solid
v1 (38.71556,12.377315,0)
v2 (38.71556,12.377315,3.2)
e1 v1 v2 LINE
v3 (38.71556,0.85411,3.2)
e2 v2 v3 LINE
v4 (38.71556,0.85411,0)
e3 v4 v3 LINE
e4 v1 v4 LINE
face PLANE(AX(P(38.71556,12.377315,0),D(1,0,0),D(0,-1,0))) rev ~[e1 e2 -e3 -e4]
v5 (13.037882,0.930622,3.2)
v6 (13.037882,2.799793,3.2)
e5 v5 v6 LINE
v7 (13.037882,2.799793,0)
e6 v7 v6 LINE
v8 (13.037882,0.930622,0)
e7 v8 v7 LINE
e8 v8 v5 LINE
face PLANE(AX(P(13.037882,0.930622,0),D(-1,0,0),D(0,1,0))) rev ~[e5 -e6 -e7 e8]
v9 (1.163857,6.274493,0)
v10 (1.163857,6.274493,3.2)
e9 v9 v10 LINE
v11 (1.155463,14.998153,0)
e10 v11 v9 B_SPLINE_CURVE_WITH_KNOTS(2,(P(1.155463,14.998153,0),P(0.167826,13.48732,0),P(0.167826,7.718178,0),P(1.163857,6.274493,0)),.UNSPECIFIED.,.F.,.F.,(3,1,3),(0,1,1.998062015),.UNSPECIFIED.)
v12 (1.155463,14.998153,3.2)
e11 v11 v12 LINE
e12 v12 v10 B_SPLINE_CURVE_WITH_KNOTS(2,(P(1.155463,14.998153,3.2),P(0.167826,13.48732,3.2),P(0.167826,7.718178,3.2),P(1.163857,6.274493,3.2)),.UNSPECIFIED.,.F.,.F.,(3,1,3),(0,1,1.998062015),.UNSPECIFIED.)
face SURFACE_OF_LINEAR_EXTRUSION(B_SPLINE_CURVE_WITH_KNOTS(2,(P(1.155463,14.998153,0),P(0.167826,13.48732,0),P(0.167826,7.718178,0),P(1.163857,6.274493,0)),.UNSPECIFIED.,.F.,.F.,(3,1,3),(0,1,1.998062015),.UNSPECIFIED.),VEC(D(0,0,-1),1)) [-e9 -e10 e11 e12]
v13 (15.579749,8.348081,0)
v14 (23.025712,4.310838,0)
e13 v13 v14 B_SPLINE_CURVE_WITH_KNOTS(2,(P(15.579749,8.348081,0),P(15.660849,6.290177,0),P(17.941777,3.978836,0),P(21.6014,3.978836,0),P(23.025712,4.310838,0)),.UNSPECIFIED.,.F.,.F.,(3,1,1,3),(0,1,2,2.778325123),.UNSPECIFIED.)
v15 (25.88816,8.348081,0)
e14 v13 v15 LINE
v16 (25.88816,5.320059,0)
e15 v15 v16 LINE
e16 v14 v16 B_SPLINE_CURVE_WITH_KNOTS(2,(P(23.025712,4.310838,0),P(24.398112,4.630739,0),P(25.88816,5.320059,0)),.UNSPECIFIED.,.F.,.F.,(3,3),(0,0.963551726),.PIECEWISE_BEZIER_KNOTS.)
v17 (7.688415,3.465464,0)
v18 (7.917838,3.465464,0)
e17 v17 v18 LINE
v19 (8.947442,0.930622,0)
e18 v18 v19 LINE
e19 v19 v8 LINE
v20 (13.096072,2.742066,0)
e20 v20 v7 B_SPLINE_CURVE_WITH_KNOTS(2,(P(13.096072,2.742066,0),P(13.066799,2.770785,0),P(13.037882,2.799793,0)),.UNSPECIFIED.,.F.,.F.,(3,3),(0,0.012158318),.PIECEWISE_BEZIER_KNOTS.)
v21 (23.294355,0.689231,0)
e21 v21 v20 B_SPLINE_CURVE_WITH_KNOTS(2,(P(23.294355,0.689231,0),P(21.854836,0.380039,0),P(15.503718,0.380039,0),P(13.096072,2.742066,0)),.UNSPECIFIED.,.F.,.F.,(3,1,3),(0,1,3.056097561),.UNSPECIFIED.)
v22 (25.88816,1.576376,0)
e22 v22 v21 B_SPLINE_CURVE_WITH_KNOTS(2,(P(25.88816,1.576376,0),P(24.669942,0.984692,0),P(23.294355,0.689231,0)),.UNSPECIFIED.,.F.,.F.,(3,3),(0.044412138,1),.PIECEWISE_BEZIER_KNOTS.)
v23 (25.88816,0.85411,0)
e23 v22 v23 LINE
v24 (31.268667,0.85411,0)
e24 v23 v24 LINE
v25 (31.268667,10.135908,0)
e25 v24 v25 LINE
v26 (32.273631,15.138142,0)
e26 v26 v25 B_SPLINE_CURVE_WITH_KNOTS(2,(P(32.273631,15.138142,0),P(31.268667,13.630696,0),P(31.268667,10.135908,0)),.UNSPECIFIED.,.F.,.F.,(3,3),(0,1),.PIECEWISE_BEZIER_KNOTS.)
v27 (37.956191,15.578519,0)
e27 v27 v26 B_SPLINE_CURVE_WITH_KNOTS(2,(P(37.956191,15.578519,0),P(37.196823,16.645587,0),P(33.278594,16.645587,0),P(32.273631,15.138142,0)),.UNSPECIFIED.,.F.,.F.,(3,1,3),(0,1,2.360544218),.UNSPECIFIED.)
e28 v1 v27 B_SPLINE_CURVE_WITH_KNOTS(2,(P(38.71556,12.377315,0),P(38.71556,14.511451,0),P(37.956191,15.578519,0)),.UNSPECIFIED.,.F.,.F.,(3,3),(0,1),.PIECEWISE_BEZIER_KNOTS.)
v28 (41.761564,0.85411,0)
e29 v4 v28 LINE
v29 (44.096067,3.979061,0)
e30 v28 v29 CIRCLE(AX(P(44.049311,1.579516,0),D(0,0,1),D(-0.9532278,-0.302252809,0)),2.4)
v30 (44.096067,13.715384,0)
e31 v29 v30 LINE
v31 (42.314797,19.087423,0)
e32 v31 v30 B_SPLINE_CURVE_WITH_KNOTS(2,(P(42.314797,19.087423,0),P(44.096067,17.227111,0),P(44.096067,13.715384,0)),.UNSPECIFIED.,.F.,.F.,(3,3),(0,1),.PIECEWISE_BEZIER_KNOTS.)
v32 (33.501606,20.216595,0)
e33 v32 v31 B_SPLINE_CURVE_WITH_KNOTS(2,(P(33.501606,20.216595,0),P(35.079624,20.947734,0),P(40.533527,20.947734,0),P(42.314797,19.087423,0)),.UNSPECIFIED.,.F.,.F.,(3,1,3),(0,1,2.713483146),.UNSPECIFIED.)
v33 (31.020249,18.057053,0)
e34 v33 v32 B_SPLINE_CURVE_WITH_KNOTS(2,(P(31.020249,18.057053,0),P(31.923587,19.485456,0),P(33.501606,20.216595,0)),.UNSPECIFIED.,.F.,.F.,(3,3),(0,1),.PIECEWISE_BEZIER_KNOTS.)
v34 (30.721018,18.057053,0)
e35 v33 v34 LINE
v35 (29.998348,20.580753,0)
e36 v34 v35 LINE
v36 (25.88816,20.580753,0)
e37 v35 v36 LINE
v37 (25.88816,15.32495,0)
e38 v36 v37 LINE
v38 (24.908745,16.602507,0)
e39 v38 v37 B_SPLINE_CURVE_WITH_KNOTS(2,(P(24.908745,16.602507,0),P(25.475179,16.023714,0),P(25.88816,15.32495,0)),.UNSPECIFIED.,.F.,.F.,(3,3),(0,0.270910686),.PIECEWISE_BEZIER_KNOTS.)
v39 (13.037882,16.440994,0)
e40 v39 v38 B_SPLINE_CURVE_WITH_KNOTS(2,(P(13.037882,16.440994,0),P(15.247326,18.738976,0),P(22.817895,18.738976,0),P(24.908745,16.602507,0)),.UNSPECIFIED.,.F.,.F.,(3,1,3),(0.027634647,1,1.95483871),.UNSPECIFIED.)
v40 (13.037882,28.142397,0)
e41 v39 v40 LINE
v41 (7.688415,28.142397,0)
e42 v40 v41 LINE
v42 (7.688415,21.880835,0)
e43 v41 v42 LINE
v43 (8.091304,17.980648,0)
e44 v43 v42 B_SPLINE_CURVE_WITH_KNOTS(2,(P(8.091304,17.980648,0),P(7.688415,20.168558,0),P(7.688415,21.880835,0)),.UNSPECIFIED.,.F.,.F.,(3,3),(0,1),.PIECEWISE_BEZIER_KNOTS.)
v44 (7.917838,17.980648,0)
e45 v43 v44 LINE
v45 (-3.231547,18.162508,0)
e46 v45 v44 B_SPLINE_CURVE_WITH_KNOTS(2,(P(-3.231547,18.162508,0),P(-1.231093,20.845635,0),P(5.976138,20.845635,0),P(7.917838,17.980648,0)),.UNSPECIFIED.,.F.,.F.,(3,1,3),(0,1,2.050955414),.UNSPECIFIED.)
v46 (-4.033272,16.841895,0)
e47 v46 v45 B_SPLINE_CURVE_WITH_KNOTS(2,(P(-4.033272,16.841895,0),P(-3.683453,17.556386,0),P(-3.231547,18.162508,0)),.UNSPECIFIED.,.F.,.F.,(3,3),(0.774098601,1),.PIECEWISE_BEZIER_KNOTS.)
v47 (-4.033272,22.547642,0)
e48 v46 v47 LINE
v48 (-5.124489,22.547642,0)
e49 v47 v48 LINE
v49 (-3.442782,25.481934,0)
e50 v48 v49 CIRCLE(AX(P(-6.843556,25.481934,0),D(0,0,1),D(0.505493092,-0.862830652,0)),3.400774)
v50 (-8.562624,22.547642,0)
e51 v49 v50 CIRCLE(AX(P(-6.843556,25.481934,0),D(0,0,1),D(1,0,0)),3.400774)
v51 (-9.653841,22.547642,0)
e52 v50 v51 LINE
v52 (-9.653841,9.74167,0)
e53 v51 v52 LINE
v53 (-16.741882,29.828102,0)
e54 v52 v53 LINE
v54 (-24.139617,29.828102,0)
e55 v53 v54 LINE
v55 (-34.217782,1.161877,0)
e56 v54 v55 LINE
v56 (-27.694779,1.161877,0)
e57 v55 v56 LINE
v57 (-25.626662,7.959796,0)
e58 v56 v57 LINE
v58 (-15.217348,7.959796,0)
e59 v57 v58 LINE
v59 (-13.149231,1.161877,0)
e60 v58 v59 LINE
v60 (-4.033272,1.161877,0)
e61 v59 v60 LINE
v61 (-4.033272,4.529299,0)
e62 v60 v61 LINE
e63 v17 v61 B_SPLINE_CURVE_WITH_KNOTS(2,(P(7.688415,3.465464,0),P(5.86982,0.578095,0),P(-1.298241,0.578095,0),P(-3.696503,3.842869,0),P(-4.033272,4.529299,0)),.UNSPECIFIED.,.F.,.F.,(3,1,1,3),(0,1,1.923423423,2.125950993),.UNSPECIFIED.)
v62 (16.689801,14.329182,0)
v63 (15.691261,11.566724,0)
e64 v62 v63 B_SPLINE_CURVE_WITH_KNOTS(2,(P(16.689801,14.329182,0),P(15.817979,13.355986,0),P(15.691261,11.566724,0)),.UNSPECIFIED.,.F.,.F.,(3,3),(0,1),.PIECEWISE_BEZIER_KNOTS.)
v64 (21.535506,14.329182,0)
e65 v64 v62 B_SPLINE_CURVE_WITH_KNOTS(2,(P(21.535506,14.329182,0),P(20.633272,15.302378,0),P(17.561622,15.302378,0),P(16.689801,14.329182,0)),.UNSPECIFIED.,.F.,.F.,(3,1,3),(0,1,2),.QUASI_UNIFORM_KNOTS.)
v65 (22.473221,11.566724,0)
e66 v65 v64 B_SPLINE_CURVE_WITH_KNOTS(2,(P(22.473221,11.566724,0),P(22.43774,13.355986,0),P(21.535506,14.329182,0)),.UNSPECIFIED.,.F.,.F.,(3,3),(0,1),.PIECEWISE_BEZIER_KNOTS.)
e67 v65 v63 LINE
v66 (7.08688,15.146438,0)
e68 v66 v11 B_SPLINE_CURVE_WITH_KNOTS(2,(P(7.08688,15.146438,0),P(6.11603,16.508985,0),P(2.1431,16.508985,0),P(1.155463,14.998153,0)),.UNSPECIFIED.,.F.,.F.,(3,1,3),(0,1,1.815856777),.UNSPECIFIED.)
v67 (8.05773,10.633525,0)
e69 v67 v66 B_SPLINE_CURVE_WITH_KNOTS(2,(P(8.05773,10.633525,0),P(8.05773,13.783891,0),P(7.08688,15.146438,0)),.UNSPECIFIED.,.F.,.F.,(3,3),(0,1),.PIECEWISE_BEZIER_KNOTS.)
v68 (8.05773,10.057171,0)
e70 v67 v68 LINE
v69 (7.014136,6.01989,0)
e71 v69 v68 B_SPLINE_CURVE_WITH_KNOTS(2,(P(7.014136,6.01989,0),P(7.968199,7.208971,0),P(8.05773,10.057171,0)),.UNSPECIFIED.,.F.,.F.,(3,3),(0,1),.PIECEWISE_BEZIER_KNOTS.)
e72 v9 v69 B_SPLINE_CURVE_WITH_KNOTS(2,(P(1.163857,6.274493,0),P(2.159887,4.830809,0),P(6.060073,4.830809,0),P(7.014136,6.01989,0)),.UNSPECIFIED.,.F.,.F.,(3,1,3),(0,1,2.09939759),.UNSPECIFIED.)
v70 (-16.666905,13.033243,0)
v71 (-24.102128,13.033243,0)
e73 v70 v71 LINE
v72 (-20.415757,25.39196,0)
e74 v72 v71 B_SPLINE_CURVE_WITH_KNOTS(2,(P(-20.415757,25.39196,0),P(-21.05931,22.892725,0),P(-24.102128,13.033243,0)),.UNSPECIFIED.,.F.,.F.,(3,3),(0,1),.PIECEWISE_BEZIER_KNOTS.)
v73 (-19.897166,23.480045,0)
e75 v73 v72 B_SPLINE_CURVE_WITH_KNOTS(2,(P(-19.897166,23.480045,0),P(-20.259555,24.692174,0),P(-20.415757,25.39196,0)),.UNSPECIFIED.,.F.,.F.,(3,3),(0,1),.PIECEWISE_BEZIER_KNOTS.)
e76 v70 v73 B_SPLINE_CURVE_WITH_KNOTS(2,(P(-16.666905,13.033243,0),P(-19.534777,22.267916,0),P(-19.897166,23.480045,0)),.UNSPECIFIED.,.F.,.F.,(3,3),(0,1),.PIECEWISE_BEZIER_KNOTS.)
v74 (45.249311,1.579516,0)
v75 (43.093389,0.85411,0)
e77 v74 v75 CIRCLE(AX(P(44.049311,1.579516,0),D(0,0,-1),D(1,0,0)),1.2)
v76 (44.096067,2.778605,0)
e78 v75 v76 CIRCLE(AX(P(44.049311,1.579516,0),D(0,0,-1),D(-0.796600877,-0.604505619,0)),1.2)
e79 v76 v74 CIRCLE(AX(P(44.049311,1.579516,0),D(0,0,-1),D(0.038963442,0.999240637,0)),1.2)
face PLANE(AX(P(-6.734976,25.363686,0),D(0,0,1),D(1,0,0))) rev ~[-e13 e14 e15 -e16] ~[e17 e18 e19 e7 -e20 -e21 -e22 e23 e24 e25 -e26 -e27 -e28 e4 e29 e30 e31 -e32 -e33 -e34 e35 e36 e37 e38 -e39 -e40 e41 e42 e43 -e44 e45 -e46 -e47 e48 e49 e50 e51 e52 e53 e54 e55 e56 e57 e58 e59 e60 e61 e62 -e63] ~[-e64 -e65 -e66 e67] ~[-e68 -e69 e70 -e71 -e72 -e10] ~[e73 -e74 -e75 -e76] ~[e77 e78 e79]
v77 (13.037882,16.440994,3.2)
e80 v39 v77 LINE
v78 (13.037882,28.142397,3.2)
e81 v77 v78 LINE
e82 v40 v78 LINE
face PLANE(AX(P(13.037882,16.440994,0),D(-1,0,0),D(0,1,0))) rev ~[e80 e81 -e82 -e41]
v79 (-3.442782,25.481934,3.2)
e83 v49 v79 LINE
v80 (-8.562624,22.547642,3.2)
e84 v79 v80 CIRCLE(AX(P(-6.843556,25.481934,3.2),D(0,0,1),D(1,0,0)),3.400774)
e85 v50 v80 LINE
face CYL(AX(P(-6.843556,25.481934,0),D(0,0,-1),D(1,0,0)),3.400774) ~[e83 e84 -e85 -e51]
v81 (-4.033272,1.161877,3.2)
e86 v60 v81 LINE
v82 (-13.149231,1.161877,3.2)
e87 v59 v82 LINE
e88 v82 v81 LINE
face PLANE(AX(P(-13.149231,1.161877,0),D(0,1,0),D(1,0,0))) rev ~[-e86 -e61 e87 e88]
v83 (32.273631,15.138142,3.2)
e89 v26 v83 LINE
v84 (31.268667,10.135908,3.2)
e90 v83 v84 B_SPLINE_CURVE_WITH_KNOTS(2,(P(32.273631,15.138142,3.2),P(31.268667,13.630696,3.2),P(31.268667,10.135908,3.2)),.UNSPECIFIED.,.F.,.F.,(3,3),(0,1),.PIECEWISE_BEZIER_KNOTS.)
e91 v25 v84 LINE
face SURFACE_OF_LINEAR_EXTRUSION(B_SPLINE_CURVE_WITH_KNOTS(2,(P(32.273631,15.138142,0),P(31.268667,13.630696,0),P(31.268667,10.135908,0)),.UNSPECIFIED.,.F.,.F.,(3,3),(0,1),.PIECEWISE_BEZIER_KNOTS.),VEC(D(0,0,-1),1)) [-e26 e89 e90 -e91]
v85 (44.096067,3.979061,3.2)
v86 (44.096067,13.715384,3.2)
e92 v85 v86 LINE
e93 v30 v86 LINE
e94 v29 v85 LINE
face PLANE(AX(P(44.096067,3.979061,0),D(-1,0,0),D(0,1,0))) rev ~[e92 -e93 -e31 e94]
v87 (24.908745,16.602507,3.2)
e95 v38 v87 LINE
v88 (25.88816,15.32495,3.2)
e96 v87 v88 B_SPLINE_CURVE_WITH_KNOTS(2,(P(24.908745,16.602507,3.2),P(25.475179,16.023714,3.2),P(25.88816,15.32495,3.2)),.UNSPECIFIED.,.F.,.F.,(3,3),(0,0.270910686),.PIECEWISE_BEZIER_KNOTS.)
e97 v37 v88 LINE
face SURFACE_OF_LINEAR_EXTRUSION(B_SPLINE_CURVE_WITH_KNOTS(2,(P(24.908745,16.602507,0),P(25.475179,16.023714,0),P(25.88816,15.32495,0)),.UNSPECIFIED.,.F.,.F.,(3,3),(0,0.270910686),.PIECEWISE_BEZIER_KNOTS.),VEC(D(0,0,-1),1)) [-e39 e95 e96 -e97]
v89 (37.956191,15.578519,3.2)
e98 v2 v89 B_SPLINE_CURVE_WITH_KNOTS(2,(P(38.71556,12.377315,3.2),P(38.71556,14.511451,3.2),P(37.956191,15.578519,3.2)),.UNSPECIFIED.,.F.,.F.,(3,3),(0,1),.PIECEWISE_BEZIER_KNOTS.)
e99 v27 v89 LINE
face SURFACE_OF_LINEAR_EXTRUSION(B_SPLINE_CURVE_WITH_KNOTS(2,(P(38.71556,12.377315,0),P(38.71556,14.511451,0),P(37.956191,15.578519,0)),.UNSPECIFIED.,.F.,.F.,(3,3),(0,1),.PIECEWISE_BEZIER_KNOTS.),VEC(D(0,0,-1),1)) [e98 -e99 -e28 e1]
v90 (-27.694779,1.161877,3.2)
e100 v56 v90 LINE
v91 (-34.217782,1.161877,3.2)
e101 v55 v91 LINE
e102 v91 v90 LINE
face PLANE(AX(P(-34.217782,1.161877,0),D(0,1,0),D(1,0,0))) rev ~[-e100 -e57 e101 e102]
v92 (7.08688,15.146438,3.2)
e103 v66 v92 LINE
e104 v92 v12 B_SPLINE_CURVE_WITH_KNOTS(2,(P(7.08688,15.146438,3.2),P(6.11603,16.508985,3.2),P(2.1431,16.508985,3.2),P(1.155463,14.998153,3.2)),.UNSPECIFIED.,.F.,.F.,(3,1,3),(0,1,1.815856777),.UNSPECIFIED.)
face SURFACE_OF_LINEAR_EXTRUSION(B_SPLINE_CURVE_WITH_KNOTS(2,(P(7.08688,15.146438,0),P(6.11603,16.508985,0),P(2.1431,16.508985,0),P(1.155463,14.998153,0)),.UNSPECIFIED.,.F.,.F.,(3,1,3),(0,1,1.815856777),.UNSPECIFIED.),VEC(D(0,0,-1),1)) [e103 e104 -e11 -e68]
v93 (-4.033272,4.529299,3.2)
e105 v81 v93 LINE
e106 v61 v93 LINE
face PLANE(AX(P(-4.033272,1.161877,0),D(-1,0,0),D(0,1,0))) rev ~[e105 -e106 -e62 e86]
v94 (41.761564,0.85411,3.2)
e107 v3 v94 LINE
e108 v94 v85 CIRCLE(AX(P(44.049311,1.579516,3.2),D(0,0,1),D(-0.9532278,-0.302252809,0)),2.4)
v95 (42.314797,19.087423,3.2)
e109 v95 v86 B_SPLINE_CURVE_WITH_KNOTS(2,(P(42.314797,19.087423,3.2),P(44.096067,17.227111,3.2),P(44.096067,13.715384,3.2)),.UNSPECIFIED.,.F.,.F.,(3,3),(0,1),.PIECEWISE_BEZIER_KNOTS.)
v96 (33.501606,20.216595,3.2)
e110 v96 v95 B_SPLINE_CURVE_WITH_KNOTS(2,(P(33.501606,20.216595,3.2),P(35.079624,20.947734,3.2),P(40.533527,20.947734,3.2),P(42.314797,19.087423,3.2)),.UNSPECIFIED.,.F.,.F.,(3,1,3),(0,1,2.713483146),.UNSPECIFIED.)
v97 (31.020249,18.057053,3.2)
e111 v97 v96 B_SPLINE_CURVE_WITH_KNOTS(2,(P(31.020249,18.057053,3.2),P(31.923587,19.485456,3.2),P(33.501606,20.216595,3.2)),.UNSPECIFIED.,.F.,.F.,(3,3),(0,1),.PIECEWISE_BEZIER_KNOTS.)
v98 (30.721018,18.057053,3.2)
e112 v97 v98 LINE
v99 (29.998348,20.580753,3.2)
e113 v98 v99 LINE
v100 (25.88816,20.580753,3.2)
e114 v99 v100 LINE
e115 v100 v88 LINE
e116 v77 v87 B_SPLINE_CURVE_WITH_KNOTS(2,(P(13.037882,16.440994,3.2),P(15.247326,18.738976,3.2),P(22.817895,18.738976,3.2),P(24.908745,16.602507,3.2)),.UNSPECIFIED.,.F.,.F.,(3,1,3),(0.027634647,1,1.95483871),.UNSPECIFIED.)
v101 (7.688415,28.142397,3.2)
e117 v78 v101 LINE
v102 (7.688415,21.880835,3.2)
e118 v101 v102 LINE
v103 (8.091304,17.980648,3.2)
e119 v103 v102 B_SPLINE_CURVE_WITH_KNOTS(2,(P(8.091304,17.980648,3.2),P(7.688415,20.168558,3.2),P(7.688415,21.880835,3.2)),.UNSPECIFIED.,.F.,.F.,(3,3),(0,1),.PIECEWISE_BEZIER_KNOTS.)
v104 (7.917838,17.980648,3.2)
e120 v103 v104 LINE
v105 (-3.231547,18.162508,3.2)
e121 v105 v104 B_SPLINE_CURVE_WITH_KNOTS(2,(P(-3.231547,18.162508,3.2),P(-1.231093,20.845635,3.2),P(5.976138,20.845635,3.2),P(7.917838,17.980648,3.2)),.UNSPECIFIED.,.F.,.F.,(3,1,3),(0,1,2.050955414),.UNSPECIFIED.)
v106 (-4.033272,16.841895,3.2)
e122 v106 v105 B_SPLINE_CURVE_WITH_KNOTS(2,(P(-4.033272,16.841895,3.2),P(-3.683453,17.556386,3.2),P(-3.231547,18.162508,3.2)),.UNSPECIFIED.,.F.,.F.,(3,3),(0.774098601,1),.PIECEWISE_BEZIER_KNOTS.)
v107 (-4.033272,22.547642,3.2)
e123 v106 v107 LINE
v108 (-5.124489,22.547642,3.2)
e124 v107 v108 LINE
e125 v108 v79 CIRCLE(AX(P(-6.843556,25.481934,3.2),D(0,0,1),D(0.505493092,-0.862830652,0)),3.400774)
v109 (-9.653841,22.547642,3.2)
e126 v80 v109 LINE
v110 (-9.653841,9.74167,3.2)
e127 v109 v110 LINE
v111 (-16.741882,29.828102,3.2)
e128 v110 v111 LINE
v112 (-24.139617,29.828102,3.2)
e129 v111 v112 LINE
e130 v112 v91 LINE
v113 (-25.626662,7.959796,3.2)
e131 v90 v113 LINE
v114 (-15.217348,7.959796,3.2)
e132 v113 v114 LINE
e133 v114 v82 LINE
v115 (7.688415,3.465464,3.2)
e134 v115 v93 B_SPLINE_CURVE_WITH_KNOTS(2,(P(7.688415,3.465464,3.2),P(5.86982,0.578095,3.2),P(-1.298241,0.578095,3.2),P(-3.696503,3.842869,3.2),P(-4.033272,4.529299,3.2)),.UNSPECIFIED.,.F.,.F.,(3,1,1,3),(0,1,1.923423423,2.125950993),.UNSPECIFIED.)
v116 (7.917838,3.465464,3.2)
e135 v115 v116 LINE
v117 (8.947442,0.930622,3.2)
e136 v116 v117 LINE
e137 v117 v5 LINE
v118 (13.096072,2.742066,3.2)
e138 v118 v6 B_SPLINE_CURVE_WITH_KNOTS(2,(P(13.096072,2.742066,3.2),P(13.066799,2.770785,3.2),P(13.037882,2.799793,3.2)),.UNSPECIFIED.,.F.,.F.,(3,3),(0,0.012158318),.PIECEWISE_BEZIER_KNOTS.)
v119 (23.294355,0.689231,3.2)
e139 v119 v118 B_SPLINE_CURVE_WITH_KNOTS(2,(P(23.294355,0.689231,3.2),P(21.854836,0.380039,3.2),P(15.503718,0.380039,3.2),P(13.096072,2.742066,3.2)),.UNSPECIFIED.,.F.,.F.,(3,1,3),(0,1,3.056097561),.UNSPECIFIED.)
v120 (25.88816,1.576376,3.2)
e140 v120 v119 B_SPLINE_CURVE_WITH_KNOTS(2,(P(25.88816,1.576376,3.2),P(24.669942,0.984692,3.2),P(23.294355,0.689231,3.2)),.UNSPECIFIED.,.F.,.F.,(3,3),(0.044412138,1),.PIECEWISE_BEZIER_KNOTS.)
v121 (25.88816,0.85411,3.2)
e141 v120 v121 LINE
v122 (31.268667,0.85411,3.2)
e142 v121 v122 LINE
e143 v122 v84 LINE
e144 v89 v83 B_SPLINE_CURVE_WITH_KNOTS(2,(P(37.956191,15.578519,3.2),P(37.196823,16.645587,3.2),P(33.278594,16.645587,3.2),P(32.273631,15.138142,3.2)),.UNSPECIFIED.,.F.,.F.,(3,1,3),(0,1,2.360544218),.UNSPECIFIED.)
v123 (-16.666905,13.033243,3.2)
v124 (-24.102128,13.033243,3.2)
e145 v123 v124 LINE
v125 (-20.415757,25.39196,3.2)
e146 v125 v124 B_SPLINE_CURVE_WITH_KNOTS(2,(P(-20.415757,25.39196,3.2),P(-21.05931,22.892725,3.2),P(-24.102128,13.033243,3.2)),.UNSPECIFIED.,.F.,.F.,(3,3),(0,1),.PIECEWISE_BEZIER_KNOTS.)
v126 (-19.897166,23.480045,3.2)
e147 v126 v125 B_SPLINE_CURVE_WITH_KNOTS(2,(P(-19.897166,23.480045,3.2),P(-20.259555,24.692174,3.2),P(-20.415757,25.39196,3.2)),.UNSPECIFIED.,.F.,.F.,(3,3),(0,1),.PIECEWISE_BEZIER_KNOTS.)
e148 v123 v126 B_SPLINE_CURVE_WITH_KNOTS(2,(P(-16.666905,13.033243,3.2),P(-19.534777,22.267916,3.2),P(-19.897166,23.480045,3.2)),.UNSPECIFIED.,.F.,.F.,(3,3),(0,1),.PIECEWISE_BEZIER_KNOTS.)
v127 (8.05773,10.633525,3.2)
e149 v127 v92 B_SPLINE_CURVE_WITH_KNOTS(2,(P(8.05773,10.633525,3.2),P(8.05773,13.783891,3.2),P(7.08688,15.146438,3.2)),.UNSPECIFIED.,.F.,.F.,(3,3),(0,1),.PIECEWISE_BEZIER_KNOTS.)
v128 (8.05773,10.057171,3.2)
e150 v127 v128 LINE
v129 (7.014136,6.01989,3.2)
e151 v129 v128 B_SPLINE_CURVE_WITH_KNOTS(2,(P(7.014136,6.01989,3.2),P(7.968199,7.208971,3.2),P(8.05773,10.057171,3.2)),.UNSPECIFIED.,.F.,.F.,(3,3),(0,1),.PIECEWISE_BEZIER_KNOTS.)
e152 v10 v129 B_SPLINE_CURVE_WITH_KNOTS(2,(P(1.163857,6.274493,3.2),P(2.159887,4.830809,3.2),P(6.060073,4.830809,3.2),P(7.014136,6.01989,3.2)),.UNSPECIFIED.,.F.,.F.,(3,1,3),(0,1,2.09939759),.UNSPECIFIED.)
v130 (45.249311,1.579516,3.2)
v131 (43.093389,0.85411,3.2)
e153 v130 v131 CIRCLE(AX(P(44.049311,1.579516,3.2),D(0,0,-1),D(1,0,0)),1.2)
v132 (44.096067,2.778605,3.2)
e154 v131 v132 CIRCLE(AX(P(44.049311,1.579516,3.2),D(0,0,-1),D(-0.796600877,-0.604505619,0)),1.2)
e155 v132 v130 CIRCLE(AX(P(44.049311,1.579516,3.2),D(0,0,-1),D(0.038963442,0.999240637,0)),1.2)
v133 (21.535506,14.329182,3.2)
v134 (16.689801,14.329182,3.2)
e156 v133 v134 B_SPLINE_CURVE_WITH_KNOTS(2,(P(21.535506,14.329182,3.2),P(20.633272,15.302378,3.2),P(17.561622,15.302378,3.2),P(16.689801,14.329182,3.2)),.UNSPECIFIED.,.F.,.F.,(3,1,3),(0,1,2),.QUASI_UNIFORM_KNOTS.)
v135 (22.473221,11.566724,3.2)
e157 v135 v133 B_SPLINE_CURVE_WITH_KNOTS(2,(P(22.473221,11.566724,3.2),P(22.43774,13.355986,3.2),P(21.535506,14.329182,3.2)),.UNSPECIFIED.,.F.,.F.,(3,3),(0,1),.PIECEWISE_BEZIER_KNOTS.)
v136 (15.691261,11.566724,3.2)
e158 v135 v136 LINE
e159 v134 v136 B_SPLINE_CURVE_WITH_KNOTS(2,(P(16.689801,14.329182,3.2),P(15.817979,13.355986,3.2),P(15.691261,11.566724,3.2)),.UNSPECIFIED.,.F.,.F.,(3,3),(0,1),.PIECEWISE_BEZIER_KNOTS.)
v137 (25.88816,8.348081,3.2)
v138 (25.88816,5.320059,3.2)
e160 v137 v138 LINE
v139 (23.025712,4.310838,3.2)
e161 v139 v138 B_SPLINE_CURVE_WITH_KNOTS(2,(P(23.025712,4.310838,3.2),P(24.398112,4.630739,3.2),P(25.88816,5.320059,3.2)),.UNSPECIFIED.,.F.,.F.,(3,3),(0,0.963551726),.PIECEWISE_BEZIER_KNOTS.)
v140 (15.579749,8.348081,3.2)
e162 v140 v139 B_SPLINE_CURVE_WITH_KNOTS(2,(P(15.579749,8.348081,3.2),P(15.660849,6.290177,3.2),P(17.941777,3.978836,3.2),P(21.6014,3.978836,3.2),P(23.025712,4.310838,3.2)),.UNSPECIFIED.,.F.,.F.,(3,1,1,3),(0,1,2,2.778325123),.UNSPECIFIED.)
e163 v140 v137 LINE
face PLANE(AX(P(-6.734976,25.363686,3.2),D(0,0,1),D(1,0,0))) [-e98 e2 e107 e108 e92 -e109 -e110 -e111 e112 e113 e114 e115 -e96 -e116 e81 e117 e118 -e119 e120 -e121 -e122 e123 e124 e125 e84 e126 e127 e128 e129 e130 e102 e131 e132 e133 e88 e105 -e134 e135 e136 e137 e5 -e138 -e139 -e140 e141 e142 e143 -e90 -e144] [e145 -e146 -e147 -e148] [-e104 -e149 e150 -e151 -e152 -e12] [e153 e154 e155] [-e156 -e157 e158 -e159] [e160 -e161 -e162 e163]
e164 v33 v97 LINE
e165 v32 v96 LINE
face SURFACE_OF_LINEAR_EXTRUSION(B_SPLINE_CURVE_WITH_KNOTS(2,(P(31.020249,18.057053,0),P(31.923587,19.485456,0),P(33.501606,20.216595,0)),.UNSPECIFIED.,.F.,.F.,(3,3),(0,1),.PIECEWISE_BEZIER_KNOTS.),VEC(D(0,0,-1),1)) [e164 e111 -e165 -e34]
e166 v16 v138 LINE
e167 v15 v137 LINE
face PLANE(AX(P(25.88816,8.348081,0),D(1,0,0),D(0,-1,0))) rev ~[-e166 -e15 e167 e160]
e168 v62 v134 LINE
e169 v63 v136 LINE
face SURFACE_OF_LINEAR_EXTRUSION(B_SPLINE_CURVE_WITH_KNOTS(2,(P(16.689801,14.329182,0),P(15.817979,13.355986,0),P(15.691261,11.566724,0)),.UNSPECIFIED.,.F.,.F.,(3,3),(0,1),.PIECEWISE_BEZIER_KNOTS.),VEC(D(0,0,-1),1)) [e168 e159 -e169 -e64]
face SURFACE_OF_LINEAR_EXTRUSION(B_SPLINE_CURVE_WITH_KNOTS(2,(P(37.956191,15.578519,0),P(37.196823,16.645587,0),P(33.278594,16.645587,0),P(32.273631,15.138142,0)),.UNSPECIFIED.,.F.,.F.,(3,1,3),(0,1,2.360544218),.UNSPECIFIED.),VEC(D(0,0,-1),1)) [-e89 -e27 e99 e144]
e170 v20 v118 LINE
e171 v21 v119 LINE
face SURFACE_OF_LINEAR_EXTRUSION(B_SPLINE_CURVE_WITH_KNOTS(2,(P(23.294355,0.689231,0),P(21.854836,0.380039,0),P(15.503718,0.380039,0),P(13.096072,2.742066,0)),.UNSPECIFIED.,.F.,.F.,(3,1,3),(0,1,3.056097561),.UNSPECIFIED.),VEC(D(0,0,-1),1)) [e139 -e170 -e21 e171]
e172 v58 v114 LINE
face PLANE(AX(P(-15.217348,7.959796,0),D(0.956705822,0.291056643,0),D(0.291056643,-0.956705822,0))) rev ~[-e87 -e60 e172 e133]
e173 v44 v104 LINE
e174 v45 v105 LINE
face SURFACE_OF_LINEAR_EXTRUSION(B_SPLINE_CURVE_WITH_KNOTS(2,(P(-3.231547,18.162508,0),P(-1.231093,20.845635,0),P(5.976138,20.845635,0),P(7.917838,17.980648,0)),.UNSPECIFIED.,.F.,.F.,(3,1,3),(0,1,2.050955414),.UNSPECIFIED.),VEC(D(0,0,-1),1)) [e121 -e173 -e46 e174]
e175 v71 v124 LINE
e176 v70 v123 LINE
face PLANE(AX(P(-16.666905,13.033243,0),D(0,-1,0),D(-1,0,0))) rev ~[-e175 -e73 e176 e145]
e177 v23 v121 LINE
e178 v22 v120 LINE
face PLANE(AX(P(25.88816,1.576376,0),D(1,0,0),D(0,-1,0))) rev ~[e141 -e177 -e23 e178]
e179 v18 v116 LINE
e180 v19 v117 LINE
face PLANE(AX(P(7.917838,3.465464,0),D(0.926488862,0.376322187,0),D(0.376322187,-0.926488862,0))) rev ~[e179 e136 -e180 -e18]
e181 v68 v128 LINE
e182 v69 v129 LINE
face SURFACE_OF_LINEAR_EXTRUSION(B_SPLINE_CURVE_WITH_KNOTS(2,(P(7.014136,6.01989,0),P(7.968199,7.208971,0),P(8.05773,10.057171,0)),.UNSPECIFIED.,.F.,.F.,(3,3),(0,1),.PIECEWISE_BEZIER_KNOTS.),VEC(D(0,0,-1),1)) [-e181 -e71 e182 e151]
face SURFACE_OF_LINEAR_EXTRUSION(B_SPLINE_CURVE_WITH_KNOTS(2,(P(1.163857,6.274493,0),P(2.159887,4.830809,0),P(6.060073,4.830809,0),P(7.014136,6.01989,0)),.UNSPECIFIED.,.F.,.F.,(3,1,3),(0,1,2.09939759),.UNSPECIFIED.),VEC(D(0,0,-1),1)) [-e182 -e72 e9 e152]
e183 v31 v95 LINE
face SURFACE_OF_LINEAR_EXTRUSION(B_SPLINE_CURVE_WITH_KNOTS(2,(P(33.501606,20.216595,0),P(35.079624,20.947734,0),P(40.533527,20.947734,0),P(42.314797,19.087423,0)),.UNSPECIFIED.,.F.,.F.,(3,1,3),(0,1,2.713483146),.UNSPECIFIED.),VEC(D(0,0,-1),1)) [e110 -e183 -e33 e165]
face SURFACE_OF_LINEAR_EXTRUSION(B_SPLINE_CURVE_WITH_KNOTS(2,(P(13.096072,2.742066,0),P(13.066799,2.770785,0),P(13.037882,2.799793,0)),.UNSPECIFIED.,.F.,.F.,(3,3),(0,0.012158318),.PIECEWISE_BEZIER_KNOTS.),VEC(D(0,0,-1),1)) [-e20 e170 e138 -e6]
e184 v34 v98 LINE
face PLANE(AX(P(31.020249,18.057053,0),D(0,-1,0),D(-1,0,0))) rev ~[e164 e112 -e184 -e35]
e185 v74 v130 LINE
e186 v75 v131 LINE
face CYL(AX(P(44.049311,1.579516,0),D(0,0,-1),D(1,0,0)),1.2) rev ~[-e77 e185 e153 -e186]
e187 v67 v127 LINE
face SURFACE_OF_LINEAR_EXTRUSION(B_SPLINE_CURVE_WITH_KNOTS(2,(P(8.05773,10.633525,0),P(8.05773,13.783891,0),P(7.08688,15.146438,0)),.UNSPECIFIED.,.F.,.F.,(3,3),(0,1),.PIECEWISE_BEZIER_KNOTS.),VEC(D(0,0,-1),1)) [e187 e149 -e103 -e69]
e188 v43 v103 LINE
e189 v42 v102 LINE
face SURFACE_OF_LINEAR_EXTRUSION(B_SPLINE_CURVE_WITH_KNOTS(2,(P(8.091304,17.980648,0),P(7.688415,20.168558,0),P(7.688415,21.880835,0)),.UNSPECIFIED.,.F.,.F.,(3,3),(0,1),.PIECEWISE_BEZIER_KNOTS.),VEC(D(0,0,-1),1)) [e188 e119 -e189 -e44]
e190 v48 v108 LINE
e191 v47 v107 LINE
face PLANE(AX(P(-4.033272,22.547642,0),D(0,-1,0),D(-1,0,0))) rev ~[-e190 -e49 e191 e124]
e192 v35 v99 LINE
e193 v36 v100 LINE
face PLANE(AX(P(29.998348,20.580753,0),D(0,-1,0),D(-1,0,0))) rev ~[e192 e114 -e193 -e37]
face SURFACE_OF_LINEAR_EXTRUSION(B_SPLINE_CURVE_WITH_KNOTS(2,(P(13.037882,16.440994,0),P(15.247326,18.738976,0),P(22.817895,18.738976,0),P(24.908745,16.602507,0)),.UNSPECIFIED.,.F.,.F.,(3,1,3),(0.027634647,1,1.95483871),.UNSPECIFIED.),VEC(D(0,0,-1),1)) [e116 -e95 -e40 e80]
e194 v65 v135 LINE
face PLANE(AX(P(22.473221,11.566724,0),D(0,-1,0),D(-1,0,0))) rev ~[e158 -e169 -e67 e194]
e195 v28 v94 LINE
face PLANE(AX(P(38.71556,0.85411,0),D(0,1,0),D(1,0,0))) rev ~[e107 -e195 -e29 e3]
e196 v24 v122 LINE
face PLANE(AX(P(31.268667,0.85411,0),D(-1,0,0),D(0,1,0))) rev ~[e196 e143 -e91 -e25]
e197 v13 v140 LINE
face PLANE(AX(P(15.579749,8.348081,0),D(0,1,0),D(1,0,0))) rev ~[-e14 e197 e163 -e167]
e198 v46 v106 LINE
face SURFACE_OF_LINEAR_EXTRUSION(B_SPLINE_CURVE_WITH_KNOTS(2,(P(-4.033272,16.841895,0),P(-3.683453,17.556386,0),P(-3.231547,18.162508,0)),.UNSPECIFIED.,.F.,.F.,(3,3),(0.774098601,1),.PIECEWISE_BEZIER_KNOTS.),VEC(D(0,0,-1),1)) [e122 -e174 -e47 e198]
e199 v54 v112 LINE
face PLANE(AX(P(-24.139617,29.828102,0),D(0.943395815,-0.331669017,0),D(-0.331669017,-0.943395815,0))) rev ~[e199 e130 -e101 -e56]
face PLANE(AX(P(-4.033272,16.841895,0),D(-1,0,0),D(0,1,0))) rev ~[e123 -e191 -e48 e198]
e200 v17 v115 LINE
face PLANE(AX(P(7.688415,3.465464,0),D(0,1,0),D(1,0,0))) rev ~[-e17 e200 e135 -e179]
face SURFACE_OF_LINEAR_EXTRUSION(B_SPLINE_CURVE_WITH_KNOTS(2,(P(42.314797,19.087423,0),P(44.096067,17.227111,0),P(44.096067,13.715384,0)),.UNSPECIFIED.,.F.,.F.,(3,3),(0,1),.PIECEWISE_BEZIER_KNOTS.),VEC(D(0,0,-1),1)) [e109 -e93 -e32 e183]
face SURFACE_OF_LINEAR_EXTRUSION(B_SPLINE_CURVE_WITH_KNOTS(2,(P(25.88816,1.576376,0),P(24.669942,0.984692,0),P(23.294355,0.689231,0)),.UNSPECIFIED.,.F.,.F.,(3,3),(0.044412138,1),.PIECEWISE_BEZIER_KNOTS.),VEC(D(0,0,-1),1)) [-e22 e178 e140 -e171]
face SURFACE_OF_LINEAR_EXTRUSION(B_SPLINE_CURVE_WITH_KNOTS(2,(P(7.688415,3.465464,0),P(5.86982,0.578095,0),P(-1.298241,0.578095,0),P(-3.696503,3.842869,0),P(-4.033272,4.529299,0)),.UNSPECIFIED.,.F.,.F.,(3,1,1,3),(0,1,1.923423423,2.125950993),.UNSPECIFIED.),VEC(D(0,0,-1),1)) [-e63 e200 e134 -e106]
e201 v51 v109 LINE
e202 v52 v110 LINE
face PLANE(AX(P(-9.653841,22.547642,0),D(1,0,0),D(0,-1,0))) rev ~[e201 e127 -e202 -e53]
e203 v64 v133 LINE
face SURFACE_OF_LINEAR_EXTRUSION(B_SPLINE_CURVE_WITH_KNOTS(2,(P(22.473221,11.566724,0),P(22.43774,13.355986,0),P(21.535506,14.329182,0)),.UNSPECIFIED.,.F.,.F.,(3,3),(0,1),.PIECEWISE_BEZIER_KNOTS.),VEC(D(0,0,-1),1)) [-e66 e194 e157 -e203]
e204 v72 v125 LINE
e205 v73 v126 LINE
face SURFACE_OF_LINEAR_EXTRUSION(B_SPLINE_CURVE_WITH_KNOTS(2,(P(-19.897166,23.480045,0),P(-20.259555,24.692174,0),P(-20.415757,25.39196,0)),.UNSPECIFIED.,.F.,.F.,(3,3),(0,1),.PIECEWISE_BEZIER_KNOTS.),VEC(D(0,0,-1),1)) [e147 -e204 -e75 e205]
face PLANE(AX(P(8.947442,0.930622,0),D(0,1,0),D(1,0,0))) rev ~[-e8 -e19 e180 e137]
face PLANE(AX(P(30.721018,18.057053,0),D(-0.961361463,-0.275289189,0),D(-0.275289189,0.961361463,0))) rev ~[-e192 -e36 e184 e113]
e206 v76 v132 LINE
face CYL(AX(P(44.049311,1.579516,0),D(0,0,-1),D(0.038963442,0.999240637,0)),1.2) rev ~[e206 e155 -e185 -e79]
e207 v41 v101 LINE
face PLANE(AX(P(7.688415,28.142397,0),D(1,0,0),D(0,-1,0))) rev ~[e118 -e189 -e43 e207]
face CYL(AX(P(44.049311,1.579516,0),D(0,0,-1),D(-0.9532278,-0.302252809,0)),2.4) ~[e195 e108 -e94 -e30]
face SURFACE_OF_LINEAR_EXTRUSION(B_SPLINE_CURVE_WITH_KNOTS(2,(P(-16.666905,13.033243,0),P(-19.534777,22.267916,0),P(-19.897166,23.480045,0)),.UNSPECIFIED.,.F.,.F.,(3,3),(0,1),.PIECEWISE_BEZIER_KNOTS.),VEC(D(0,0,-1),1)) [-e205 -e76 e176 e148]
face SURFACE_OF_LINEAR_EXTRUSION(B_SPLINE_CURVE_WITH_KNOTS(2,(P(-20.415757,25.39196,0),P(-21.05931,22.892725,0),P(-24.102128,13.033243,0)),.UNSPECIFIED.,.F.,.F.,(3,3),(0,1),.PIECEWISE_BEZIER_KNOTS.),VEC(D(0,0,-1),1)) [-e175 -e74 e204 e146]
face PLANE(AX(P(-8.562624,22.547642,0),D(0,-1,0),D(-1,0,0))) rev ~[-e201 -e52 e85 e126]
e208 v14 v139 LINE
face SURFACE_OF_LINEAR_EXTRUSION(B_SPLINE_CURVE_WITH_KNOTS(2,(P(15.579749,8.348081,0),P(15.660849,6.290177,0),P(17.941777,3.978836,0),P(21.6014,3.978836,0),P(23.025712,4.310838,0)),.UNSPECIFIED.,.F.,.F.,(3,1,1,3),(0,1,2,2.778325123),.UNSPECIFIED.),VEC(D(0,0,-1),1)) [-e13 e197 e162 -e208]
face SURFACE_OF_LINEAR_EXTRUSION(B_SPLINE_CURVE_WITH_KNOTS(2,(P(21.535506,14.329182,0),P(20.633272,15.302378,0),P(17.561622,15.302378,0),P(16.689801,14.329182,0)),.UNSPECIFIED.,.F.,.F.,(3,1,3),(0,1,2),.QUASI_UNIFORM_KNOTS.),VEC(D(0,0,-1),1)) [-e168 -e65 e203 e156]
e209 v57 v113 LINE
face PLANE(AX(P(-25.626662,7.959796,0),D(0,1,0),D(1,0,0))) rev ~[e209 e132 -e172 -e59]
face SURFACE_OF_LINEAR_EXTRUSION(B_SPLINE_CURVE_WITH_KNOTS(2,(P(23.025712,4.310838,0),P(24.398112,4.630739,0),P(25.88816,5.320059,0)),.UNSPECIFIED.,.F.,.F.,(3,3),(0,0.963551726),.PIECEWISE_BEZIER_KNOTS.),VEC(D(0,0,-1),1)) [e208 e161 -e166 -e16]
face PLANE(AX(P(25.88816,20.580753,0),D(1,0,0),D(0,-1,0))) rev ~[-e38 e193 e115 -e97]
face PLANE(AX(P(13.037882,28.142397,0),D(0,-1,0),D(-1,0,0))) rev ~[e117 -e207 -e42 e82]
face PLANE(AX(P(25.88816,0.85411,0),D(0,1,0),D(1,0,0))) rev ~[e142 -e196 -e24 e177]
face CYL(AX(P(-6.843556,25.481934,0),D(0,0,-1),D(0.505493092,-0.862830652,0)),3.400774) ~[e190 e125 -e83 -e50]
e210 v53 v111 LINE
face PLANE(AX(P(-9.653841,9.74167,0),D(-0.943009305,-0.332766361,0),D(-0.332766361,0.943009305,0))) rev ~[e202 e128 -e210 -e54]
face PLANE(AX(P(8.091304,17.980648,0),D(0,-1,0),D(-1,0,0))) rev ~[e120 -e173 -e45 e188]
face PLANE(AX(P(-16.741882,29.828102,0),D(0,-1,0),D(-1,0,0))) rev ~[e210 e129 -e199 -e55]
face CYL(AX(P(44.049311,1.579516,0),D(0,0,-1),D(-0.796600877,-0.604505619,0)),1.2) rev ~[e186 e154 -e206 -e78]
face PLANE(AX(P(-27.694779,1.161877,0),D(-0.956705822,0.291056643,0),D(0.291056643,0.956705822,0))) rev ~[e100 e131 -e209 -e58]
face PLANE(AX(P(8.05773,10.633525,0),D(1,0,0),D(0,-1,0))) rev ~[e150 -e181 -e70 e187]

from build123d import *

# Parameters (mm, degrees)
F1_DEPTH = 4
F2_SCALE = 0.8


with BuildPart() as f1:
    # F0 (on Top) → F1 (new body)
    with BuildSketch(Plane.XY):
        with BuildLine():
            ThreePointArc((2.1488346381, 27.8940834105), (3.6881804127, 29.448172395), (4.2509673702, 31.561948359))
            ThreePointArc((4.2509673702, 31.561948359), (-2.113775964, 35.2501287717), (-2.1488346381, 27.8940834105))
            Line((-2.1488346381, 27.8940834105), (2.1488346381, 27.8940834105))
        make_face()
        with BuildLine():
            Line((2.1488346381, 27.8940834105), (-2.1488346381, 27.8940834105))
            ThreePointArc((-2.1488346381, 27.8940834105), (0, 27.3109809888), (2.1488346381, 27.8940834105))
        make_face()
        with BuildLine():
            ThreePointArc((2.1488346381, 27.8940834105), (0, 27.3109809888), (-2.1488346381, 27.8940834105))
            Line((-2.1488346381, 27.8940834105), (-3.5128553864, 27.8940834105))
            Line((-3.5128553864, 27.8940834105), (-3.5128553864, 11.8866187867))
            Line((-3.5128553864, 11.8866187867), (0.2716600963, 1.1618769495))
            Line((0.2716600963, 1.1618769495), (3.5128553864, 1.1618769495))
            Line((3.5128553864, 1.1618769495), (3.5128553864, 5.3711547468))
            add(Edge.make_bspline(
                [(3.5128553864, 5.3711547468), (2.0144434893, 8.4253364224), (2.0144434893, 13.0503994181)],
                knots=[0.2193225388, 0.2193225388, 0.2193225388, 1, 1, 1], degree=2))
            add(Edge.make_bspline(
                [(2.0144434893, 13.0503994181), (2.0144434893, 17.7014605477), (3.5128553864, 20.7618998173)],
                knots=[0, 0, 0, 0.7740986013, 0.7740986013, 0.7740986013], degree=2))
            Line((3.5128553864, 20.7618998173), (3.5128553864, 27.8940834105))
            Line((3.5128553864, 27.8940834105), (2.1488346381, 27.8940834105))
        make_face()
        Polygon((0.2716600963, 1.1618769495), (-3.5128553864, 11.8866187867), (-3.5128553864, 1.1618769495), align=None)
        Polygon((-3.5128553864, 1.1618769495), (-3.5128553864, 11.8866187867), (-12.3729065895, 36.9946576501), (-21.6200758025, 36.9946576501), (-34.2177818335, 1.1618769495), (-26.064027899, 1.1618769495), (-23.4788817761, 9.6592756858), (-10.4672399611, 9.6592756858), (-7.8820938382, 1.1618769495), align=None)
        with BuildLine():
            add(Edge.make_bspline(
                [(-12.2791852799, 16.0010843015), (-15.8640253718, 27.5444255996), (-16.3170117015, 29.0595867713)],
                knots=[0, 0, 0, 1, 1, 1], degree=2))
            Line((-12.2791852799, 16.0010843015), (-21.5732151477, 16.0010843015))
            add(Edge.make_bspline(
                [(-16.9652507595, 31.4494801659), (-17.7696920001, 28.3254365129), (-21.5732151477, 16.0010843015)],
                knots=[0, 0, 0, 1, 1, 1], degree=2))
            add(Edge.make_bspline(
                [(-16.3170117015, 29.0595867713), (-16.7699980311, 30.5747479431), (-16.9652507595, 31.4494801659)],
                knots=[0, 0, 0, 1, 1, 1], degree=2))
        make_face(mode=Mode.SUBTRACT)
        with BuildLine():
            add(Edge.make_bspline(
                [(3.5128553864, 20.7618998173), (3.9501295822, 21.6550128013), (4.5150113623, 22.4126654266)],
                knots=[0.7740986013, 0.7740986013, 0.7740986013, 1, 1, 1], degree=2))
            Line((3.5128553864, 20.7618998173), (3.5128553864, 5.3711547468))
            add(Edge.make_bspline(
                [(4.4730437896, 3.7790631505), (3.9338173299, 4.513116809), (3.5128553864, 5.3711547468)],
                knots=[0, 0, 0, 0.2193225388, 0.2193225388, 0.2193225388], degree=2))
            add(Edge.make_bspline(
                [(11.2333202911, 0.4321492281), (6.93164409, 0.4321492281), (4.4730437896, 3.7790631505)],
                knots=[0, 0, 0, 1, 1, 1], degree=2))
            add(Edge.make_bspline(
                [(18.1649643811, 4.0413604798), (15.8917208602, 0.4321492281), (11.2333202911, 0.4321492281)],
                knots=[0, 0, 0, 1, 1, 1], degree=2))
            Line((18.1649643811, 4.0413604798), (18.4517427945, 4.0413604798))
            Line((18.4517427945, 4.0413604798), (19.7387483571, 0.8728087414))
            Line((19.7387483571, 0.8728087414), (24.8517976303, 0.8728087414))
            Line((24.8517976303, 0.8728087414), (24.8517976303, 3.2092719333))
            add(Edge.make_bspline(
                [(24.8517976303, 3.2092719333), (21.9149770273, 6.1553586181), (21.9149770273, 11.4941812468)],
                knots=[0.0121583181, 0.0121583181, 0.0121583181, 1, 1, 1], degree=2))
            add(Edge.make_bspline(
                [(21.9149770273, 11.4941812468), (21.9149770273, 17.0571116946), (24.6964422512, 20.0951813411)],
                knots=[0, 0, 0, 1, 1, 1], degree=2))
            add(Edge.make_bspline(
                [(24.6964422512, 20.0951813411), (24.7733070611, 20.1791373237), (24.8517976303, 20.2607732124)],
                knots=[0, 0, 0, 0.0276346471, 0.0276346471, 0.0276346471], degree=2))
            Line((24.8517976303, 20.2607732124), (24.8517976303, 34.88752641))
            Line((24.8517976303, 34.88752641), (18.1649643811, 34.88752641))
            Line((18.1649643811, 34.88752641), (18.1649643811, 27.0605741025))
            add(Edge.make_bspline(
                [(18.6685752534, 22.1853410745), (18.1649643811, 24.9202278951), (18.1649643811, 27.0605741025)],
                knots=[0, 0, 0, 1, 1, 1], degree=2))
            Line((18.6685752534, 22.1853410745), (18.4517427945, 22.1853410745))
            add(Edge.make_bspline(
                [(11.4081851773, 25.7665739444), (16.0246181737, 25.7665739444), (18.4517427945, 22.1853410745)],
                knots=[0, 0, 0, 1, 1, 1], degree=2))
            add(Edge.make_bspline(
                [(4.5150113623, 22.4126654266), (7.0155792354, 25.7665739444), (11.4081851773, 25.7665739444)],
                knots=[0, 0, 0, 1, 1, 1], degree=2))
        make_face()
        with BuildLine():
            add(Edge.make_bspline(
                [(13.5765097665, 5.7480417694), (16.1295371054, 5.7480417694), (17.3221156295, 7.2343933023)],
                knots=[0, 0, 0, 1, 1, 1], degree=2))
            add(Edge.make_bspline(
                [(10.0092660875, 7.5526473952), (11.2543040775, 5.7480417694), (13.5765097665, 5.7480417694)],
                knots=[0, 0, 0, 1, 1, 1], degree=2))
            add(Edge.make_bspline(
                [(8.7642280976, 12.9594696773), (8.7642280976, 9.3572530211), (10.0092660875, 7.5526473952)],
                knots=[0, 0, 0, 1, 1, 1], degree=2))
            add(Edge.make_bspline(
                [(9.9987741944, 18.4572217002), (8.7642280976, 16.568680929), (8.7642280976, 12.9594696773)],
                knots=[0, 0, 0, 1, 1, 1], degree=2))
            add(Edge.make_bspline(
                [(13.4645962393, 20.3457624715), (11.2333202911, 20.3457624715), (9.9987741944, 18.4572217002)],
                knots=[0, 0, 0, 1, 1, 1], degree=2))
            add(Edge.make_bspline(
                [(17.4130453703, 18.6425784796), (16.1994830599, 20.3457624715), (13.4645962393, 20.3457624715)],
                knots=[0, 0, 0, 1, 1, 1], degree=2))
            add(Edge.make_bspline(
                [(18.6266076807, 13.00143725), (18.6266076807, 16.9393944878), (17.4130453703, 18.6425784796)],
                knots=[0, 0, 0, 1, 1, 1], degree=2))
            Line((18.6266076807, 13.00143725), (18.6266076807, 12.2809939187))
            add(Edge.make_bspline(
                [(17.3221156295, 7.2343933023), (18.5146941535, 8.7207448352), (18.6266076807, 12.2809939187)],
                knots=[0, 0, 0, 1, 1, 1], degree=2))
        make_face(mode=Mode.SUBTRACT)
        with BuildLine():
            Line((3.5128553864, 5.3711547468), (3.5128553864, 20.7618998173))
            add(Edge.make_bspline(
                [(2.0144434893, 13.0503994181), (2.0144434893, 17.7014605477), (3.5128553864, 20.7618998173)],
                knots=[0, 0, 0, 0.7740986013, 0.7740986013, 0.7740986013], degree=2))
            add(Edge.make_bspline(
                [(3.5128553864, 5.3711547468), (2.0144434893, 8.4253364224), (2.0144434893, 13.0503994181)],
                knots=[0.2193225388, 0.2193225388, 0.2193225388, 1, 1, 1], degree=2))
        make_face()
        with BuildLine():
            add(Edge.make_bspline(
                [(24.8517976303, 3.2092719333), (21.9149770273, 6.1553586181), (21.9149770273, 11.4941812468)],
                knots=[0.0121583181, 0.0121583181, 0.0121583181, 1, 1, 1], degree=2))
            Line((24.8517976303, 3.2092719333), (24.8517976303, 20.2607732124))
            add(Edge.make_bspline(
                [(24.6964422512, 20.0951813411), (24.7733070611, 20.1791373237), (24.8517976303, 20.2607732124)],
                knots=[0, 0, 0, 0.0276346471, 0.0276346471, 0.0276346471], degree=2))
            add(Edge.make_bspline(
                [(21.9149770273, 11.4941812468), (21.9149770273, 17.0571116946), (24.6964422512, 20.0951813411)],
                knots=[0, 0, 0, 1, 1, 1], degree=2))
        make_face()
        with BuildLine():
            Line((24.8517976303, 20.2607732124), (24.8517976303, 3.2092719333))
            add(Edge.make_bspline(
                [(24.9245350714, 3.1371137519), (24.8879439074, 3.1730116097), (24.8517976303, 3.2092719333)],
                knots=[0, 0, 0, 0.0121583181, 0.0121583181, 0.0121583181], degree=2))
            add(Edge.make_bspline(
                [(33.2752666546, 0.1845789129), (27.9340931154, 0.1845789129), (24.9245350714, 3.1371137519)],
                knots=[0, 0, 0, 1, 1, 1], degree=2))
            add(Edge.make_bspline(
                [(37.6723893548, 0.5710695249), (35.87299044, 0.1845789129), (33.2752666546, 0.1845789129)],
                knots=[0, 0, 0, 1, 1, 1], degree=2))
            add(Edge.make_bspline(
                [(40.9146455919, 1.6800010707), (39.3918731171, 0.9403952626), (37.6723893548, 0.5710695249)],
                knots=[0.0444121377, 0.0444121377, 0.0444121377, 1, 1, 1], degree=2))
            Line((40.9146455919, 1.6800010707), (40.9146455919, 6.3596039359))
            add(Edge.make_bspline(
                [(37.3365860362, 5.0980784143), (39.0520850304, 5.4979545144), (40.9146455919, 6.3596039359)],
                knots=[0, 0, 0, 0.963551726, 0.963551726, 0.963551726], degree=2))
            add(Edge.make_bspline(
                [(33.5540467682, 4.6830761998), (35.5561948564, 4.6830761998), (37.3365860362, 5.0980784143)],
                knots=[0, 0, 0, 1, 1, 1], degree=2))
            add(Edge.make_bspline(
                [(29.5560865034, 6.1276640609), (30.9816666295, 4.6830761998), (33.5540467682, 4.6830761998)],
                knots=[0, 0, 0, 1, 1, 1], degree=2))
            add(Edge.make_bspline(
                [(28.0291317905, 10.1446320608), (28.1305063772, 7.5722519221), (29.5560865034, 6.1276640609)],
                knots=[0, 0, 0, 1, 1, 1], degree=2))
            Line((28.0291317905, 10.1446320608), (40.9146455919, 10.1446320608))
            Line((40.9146455919, 10.1446320608), (40.9146455919, 18.8657178217))
            add(Edge.make_bspline(
                [(39.6903772222, 20.4626642181), (40.3984195191, 19.7391737256), (40.9146455919, 18.8657178217)],
                knots=[0, 0, 0, 0.2709106855, 0.2709106855, 0.2709106855], degree=2))
            add(Edge.make_bspline(
                [(32.3882390206, 23.1332509877), (37.0768136576, 23.1332509877), (39.6903772222, 20.4626642181)],
                knots=[0, 0, 0, 1, 1, 1], degree=2))
            add(Edge.make_bspline(
                [(24.8517976303, 20.2607732124), (27.6136027546, 23.1332509877), (32.3882390206, 23.1332509877)],
                knots=[0.0276346471, 0.0276346471, 0.0276346471, 1, 1, 1], degree=2))
        make_face()
        with BuildLine():
            add(Edge.make_bspline(
                [(32.4262544906, 18.8375028743), (30.5064732541, 18.8375028743), (29.4166964466, 17.6210078333)],
                knots=[0, 0, 0, 1, 1, 1], degree=2))
            add(Edge.make_bspline(
                [(35.4738280047, 17.6210078333), (34.3460357271, 18.8375028743), (32.4262544906, 18.8375028743)],
                knots=[0, 0, 0, 1, 1, 1], degree=2))
            add(Edge.make_bspline(
                [(36.645971664, 14.1679359723), (36.6016202823, 16.4045127924), (35.4738280047, 17.6210078333)],
                knots=[0, 0, 0, 1, 1, 1], degree=2))
            Line((36.645971664, 14.1679359723), (28.1685218473, 14.1679359723))
            add(Edge.make_bspline(
                [(29.4166964466, 17.6210078333), (28.3269196391, 16.4045127924), (28.1685218473, 14.1679359723)],
                knots=[0, 0, 0, 1, 1, 1], degree=2))
        make_face(mode=Mode.SUBTRACT)
        with BuildLine():
            Line((40.9146455919, 25.4354721989), (40.9146455919, 18.8657178217))
            add(Edge.make_bspline(
                [(40.9146455919, 18.8657178217), (42.3039407867, 16.5150266148), (42.3039407867, 13.0781591648)],
                knots=[0.2709106855, 0.2709106855, 0.2709106855, 1, 1, 1], degree=2))
            Line((42.3039407867, 13.0781591648), (42.3039407867, 10.1446320608))
            Line((42.3039407867, 10.1446320608), (40.9146455919, 10.1446320608))
            Line((40.9146455919, 10.1446320608), (40.9146455919, 6.3596039359))
            add(Edge.make_bspline(
                [(40.9146455919, 6.3596039359), (40.9851006758, 6.3921975511), (41.0557661874, 6.4254519095)],
                knots=[0.963551726, 0.963551726, 0.963551726, 1, 1, 1], degree=2))
            Line((41.0557661874, 6.4254519095), (41.0557661874, 1.7495490958))
            add(Edge.make_bspline(
                [(41.0557661874, 1.7495490958), (40.985418342, 1.7143751731), (40.9146455919, 1.6800010707)],
                knots=[0, 0, 0, 0.0444121377, 0.0444121377, 0.0444121377], degree=2))
            Line((40.9146455919, 1.6800010707), (40.9146455919, 0.7771677338))
            Line((40.9146455919, 0.7771677338), (47.6402792941, 0.7771677338))
            Line((47.6402792941, 0.7771677338), (47.6402792941, 12.3794151696))
            add(Edge.make_bspline(
                [(48.8964837001, 18.6322078874), (47.6402792941, 16.7479012783), (47.6402792941, 12.3794151696)],
                knots=[0, 0, 0, 1, 1, 1], degree=2))
            add(Edge.make_bspline(
                [(52.9756193558, 20.5165144965), (50.1526881062, 20.5165144965), (48.8964837001, 18.6322078874)],
                knots=[0, 0, 0, 1, 1, 1], degree=2))
            add(Edge.make_bspline(
                [(55.9996844569, 19.1826794811), (55.0504738242, 20.5165144965), (52.9756193558, 20.5165144965)],
                knots=[0, 0, 0, 1, 1, 1], degree=2))
            add(Edge.make_bspline(
                [(56.9488950896, 15.1811744348), (56.9488950896, 17.8488444656), (55.9996844569, 19.1826794811)],
                knots=[0, 0, 0, 1, 1, 1], degree=2))
            Line((56.9488950896, 15.1811744348), (56.9488950896, 0.7771677338))
            Line((56.9488950896, 0.7771677338), (60.7564002275, 0.7771677338))
            Line((60.7564002275, 0.7771677338), (62.4211823132, 0.7771677338))
            ThreePointArc((62.4211823132, 0.7771677338), (62.2858076042, 2.3770103555), (63.6745287917, 3.182787117))
            Line((63.6745287917, 3.182787117), (63.6745287917, 4.6833568017))
            Line((63.6745287917, 4.6833568017), (63.6745287917, 16.8537612002))
            add(Edge.make_bspline(
                [(61.4479417686, 23.5688089101), (63.6745287917, 21.2434192933), (63.6745287917, 16.8537612002)],
                knots=[0, 0, 0, 1, 1, 1], degree=2))
            add(Edge.make_bspline(
                [(54.9163845899, 25.894198527), (59.2213547455, 25.894198527), (61.4479417686, 23.5688089101)],
                knots=[0, 0, 0, 1, 1, 1], degree=2))
            add(Edge.make_bspline(
                [(50.4314525671, 24.9802745349), (52.4039757778, 25.894198527), (54.9163845899, 25.894198527)],
                knots=[0, 0, 0, 1, 1, 1], degree=2))
            add(Edge.make_bspline(
                [(47.3297568566, 22.2808465275), (48.4589293565, 24.0663505429), (50.4314525671, 24.9802745349)],
                knots=[0, 0, 0, 1, 1, 1], degree=2))
            Line((47.3297568566, 22.2808465275), (46.9557184661, 22.2808465275))
            Line((46.9557184661, 22.2808465275), (46.0523804662, 25.4354721989))
            Line((46.0523804662, 25.4354721989), (40.9146455919, 25.4354721989))
        make_face()
        with BuildLine():
            add(Edge.make_bspline(
                [(40.9146455919, 18.8657178217), (42.3039407867, 16.5150266148), (42.3039407867, 13.0781591648)],
                knots=[0.2709106855, 0.2709106855, 0.2709106855, 1, 1, 1], degree=2))
            Line((40.9146455919, 18.8657178217), (40.9146455919, 10.1446320608))
            Line((40.9146455919, 10.1446320608), (42.3039407867, 10.1446320608))
            Line((42.3039407867, 10.1446320608), (42.3039407867, 13.0781591648))
        make_face()
        with BuildLine():
            Line((40.9146455919, 6.3596039359), (40.9146455919, 1.6800010707))
            add(Edge.make_bspline(
                [(41.0557661874, 1.7495490958), (40.985418342, 1.7143751731), (40.9146455919, 1.6800010707)],
                knots=[0, 0, 0, 0.0444121377, 0.0444121377, 0.0444121377], degree=2))
            Line((41.0557661874, 1.7495490958), (41.0557661874, 6.4254519095))
            add(Edge.make_bspline(
                [(40.9146455919, 6.3596039359), (40.9851006758, 6.3921975511), (41.0557661874, 6.4254519095)],
                knots=[0.963551726, 0.963551726, 0.963551726, 1, 1, 1], degree=2))
        make_face()
        with BuildLine():
            ThreePointArc((60.7564002275, 0.7771677338), (66.0194795954, -0.111536961), (63.6745287917, 4.6833568017))
            Line((63.6745287917, 4.6833568017), (63.6745287917, 3.182787117))
            ThreePointArc((63.6745287917, 3.182787117), (64.697209834, 2.7237175484), (65.1160836284, 1.6839261619))
            ThreePointArc((65.1160836284, 1.6839261619), (64.0944391589, 0.2622454711), (62.4211823132, 0.7771677338))
            Line((62.4211823132, 0.7771677338), (60.7564002275, 0.7771677338))
        make_face()
    extrude(amount=F1_DEPTH)


with BuildPart() as f1_1:
    # F2: moved
    add(f1.part.scale(F2_SCALE).moved(Location((-6.8435563667, 0.2323753899, 0))))


solid = f1_1.part
